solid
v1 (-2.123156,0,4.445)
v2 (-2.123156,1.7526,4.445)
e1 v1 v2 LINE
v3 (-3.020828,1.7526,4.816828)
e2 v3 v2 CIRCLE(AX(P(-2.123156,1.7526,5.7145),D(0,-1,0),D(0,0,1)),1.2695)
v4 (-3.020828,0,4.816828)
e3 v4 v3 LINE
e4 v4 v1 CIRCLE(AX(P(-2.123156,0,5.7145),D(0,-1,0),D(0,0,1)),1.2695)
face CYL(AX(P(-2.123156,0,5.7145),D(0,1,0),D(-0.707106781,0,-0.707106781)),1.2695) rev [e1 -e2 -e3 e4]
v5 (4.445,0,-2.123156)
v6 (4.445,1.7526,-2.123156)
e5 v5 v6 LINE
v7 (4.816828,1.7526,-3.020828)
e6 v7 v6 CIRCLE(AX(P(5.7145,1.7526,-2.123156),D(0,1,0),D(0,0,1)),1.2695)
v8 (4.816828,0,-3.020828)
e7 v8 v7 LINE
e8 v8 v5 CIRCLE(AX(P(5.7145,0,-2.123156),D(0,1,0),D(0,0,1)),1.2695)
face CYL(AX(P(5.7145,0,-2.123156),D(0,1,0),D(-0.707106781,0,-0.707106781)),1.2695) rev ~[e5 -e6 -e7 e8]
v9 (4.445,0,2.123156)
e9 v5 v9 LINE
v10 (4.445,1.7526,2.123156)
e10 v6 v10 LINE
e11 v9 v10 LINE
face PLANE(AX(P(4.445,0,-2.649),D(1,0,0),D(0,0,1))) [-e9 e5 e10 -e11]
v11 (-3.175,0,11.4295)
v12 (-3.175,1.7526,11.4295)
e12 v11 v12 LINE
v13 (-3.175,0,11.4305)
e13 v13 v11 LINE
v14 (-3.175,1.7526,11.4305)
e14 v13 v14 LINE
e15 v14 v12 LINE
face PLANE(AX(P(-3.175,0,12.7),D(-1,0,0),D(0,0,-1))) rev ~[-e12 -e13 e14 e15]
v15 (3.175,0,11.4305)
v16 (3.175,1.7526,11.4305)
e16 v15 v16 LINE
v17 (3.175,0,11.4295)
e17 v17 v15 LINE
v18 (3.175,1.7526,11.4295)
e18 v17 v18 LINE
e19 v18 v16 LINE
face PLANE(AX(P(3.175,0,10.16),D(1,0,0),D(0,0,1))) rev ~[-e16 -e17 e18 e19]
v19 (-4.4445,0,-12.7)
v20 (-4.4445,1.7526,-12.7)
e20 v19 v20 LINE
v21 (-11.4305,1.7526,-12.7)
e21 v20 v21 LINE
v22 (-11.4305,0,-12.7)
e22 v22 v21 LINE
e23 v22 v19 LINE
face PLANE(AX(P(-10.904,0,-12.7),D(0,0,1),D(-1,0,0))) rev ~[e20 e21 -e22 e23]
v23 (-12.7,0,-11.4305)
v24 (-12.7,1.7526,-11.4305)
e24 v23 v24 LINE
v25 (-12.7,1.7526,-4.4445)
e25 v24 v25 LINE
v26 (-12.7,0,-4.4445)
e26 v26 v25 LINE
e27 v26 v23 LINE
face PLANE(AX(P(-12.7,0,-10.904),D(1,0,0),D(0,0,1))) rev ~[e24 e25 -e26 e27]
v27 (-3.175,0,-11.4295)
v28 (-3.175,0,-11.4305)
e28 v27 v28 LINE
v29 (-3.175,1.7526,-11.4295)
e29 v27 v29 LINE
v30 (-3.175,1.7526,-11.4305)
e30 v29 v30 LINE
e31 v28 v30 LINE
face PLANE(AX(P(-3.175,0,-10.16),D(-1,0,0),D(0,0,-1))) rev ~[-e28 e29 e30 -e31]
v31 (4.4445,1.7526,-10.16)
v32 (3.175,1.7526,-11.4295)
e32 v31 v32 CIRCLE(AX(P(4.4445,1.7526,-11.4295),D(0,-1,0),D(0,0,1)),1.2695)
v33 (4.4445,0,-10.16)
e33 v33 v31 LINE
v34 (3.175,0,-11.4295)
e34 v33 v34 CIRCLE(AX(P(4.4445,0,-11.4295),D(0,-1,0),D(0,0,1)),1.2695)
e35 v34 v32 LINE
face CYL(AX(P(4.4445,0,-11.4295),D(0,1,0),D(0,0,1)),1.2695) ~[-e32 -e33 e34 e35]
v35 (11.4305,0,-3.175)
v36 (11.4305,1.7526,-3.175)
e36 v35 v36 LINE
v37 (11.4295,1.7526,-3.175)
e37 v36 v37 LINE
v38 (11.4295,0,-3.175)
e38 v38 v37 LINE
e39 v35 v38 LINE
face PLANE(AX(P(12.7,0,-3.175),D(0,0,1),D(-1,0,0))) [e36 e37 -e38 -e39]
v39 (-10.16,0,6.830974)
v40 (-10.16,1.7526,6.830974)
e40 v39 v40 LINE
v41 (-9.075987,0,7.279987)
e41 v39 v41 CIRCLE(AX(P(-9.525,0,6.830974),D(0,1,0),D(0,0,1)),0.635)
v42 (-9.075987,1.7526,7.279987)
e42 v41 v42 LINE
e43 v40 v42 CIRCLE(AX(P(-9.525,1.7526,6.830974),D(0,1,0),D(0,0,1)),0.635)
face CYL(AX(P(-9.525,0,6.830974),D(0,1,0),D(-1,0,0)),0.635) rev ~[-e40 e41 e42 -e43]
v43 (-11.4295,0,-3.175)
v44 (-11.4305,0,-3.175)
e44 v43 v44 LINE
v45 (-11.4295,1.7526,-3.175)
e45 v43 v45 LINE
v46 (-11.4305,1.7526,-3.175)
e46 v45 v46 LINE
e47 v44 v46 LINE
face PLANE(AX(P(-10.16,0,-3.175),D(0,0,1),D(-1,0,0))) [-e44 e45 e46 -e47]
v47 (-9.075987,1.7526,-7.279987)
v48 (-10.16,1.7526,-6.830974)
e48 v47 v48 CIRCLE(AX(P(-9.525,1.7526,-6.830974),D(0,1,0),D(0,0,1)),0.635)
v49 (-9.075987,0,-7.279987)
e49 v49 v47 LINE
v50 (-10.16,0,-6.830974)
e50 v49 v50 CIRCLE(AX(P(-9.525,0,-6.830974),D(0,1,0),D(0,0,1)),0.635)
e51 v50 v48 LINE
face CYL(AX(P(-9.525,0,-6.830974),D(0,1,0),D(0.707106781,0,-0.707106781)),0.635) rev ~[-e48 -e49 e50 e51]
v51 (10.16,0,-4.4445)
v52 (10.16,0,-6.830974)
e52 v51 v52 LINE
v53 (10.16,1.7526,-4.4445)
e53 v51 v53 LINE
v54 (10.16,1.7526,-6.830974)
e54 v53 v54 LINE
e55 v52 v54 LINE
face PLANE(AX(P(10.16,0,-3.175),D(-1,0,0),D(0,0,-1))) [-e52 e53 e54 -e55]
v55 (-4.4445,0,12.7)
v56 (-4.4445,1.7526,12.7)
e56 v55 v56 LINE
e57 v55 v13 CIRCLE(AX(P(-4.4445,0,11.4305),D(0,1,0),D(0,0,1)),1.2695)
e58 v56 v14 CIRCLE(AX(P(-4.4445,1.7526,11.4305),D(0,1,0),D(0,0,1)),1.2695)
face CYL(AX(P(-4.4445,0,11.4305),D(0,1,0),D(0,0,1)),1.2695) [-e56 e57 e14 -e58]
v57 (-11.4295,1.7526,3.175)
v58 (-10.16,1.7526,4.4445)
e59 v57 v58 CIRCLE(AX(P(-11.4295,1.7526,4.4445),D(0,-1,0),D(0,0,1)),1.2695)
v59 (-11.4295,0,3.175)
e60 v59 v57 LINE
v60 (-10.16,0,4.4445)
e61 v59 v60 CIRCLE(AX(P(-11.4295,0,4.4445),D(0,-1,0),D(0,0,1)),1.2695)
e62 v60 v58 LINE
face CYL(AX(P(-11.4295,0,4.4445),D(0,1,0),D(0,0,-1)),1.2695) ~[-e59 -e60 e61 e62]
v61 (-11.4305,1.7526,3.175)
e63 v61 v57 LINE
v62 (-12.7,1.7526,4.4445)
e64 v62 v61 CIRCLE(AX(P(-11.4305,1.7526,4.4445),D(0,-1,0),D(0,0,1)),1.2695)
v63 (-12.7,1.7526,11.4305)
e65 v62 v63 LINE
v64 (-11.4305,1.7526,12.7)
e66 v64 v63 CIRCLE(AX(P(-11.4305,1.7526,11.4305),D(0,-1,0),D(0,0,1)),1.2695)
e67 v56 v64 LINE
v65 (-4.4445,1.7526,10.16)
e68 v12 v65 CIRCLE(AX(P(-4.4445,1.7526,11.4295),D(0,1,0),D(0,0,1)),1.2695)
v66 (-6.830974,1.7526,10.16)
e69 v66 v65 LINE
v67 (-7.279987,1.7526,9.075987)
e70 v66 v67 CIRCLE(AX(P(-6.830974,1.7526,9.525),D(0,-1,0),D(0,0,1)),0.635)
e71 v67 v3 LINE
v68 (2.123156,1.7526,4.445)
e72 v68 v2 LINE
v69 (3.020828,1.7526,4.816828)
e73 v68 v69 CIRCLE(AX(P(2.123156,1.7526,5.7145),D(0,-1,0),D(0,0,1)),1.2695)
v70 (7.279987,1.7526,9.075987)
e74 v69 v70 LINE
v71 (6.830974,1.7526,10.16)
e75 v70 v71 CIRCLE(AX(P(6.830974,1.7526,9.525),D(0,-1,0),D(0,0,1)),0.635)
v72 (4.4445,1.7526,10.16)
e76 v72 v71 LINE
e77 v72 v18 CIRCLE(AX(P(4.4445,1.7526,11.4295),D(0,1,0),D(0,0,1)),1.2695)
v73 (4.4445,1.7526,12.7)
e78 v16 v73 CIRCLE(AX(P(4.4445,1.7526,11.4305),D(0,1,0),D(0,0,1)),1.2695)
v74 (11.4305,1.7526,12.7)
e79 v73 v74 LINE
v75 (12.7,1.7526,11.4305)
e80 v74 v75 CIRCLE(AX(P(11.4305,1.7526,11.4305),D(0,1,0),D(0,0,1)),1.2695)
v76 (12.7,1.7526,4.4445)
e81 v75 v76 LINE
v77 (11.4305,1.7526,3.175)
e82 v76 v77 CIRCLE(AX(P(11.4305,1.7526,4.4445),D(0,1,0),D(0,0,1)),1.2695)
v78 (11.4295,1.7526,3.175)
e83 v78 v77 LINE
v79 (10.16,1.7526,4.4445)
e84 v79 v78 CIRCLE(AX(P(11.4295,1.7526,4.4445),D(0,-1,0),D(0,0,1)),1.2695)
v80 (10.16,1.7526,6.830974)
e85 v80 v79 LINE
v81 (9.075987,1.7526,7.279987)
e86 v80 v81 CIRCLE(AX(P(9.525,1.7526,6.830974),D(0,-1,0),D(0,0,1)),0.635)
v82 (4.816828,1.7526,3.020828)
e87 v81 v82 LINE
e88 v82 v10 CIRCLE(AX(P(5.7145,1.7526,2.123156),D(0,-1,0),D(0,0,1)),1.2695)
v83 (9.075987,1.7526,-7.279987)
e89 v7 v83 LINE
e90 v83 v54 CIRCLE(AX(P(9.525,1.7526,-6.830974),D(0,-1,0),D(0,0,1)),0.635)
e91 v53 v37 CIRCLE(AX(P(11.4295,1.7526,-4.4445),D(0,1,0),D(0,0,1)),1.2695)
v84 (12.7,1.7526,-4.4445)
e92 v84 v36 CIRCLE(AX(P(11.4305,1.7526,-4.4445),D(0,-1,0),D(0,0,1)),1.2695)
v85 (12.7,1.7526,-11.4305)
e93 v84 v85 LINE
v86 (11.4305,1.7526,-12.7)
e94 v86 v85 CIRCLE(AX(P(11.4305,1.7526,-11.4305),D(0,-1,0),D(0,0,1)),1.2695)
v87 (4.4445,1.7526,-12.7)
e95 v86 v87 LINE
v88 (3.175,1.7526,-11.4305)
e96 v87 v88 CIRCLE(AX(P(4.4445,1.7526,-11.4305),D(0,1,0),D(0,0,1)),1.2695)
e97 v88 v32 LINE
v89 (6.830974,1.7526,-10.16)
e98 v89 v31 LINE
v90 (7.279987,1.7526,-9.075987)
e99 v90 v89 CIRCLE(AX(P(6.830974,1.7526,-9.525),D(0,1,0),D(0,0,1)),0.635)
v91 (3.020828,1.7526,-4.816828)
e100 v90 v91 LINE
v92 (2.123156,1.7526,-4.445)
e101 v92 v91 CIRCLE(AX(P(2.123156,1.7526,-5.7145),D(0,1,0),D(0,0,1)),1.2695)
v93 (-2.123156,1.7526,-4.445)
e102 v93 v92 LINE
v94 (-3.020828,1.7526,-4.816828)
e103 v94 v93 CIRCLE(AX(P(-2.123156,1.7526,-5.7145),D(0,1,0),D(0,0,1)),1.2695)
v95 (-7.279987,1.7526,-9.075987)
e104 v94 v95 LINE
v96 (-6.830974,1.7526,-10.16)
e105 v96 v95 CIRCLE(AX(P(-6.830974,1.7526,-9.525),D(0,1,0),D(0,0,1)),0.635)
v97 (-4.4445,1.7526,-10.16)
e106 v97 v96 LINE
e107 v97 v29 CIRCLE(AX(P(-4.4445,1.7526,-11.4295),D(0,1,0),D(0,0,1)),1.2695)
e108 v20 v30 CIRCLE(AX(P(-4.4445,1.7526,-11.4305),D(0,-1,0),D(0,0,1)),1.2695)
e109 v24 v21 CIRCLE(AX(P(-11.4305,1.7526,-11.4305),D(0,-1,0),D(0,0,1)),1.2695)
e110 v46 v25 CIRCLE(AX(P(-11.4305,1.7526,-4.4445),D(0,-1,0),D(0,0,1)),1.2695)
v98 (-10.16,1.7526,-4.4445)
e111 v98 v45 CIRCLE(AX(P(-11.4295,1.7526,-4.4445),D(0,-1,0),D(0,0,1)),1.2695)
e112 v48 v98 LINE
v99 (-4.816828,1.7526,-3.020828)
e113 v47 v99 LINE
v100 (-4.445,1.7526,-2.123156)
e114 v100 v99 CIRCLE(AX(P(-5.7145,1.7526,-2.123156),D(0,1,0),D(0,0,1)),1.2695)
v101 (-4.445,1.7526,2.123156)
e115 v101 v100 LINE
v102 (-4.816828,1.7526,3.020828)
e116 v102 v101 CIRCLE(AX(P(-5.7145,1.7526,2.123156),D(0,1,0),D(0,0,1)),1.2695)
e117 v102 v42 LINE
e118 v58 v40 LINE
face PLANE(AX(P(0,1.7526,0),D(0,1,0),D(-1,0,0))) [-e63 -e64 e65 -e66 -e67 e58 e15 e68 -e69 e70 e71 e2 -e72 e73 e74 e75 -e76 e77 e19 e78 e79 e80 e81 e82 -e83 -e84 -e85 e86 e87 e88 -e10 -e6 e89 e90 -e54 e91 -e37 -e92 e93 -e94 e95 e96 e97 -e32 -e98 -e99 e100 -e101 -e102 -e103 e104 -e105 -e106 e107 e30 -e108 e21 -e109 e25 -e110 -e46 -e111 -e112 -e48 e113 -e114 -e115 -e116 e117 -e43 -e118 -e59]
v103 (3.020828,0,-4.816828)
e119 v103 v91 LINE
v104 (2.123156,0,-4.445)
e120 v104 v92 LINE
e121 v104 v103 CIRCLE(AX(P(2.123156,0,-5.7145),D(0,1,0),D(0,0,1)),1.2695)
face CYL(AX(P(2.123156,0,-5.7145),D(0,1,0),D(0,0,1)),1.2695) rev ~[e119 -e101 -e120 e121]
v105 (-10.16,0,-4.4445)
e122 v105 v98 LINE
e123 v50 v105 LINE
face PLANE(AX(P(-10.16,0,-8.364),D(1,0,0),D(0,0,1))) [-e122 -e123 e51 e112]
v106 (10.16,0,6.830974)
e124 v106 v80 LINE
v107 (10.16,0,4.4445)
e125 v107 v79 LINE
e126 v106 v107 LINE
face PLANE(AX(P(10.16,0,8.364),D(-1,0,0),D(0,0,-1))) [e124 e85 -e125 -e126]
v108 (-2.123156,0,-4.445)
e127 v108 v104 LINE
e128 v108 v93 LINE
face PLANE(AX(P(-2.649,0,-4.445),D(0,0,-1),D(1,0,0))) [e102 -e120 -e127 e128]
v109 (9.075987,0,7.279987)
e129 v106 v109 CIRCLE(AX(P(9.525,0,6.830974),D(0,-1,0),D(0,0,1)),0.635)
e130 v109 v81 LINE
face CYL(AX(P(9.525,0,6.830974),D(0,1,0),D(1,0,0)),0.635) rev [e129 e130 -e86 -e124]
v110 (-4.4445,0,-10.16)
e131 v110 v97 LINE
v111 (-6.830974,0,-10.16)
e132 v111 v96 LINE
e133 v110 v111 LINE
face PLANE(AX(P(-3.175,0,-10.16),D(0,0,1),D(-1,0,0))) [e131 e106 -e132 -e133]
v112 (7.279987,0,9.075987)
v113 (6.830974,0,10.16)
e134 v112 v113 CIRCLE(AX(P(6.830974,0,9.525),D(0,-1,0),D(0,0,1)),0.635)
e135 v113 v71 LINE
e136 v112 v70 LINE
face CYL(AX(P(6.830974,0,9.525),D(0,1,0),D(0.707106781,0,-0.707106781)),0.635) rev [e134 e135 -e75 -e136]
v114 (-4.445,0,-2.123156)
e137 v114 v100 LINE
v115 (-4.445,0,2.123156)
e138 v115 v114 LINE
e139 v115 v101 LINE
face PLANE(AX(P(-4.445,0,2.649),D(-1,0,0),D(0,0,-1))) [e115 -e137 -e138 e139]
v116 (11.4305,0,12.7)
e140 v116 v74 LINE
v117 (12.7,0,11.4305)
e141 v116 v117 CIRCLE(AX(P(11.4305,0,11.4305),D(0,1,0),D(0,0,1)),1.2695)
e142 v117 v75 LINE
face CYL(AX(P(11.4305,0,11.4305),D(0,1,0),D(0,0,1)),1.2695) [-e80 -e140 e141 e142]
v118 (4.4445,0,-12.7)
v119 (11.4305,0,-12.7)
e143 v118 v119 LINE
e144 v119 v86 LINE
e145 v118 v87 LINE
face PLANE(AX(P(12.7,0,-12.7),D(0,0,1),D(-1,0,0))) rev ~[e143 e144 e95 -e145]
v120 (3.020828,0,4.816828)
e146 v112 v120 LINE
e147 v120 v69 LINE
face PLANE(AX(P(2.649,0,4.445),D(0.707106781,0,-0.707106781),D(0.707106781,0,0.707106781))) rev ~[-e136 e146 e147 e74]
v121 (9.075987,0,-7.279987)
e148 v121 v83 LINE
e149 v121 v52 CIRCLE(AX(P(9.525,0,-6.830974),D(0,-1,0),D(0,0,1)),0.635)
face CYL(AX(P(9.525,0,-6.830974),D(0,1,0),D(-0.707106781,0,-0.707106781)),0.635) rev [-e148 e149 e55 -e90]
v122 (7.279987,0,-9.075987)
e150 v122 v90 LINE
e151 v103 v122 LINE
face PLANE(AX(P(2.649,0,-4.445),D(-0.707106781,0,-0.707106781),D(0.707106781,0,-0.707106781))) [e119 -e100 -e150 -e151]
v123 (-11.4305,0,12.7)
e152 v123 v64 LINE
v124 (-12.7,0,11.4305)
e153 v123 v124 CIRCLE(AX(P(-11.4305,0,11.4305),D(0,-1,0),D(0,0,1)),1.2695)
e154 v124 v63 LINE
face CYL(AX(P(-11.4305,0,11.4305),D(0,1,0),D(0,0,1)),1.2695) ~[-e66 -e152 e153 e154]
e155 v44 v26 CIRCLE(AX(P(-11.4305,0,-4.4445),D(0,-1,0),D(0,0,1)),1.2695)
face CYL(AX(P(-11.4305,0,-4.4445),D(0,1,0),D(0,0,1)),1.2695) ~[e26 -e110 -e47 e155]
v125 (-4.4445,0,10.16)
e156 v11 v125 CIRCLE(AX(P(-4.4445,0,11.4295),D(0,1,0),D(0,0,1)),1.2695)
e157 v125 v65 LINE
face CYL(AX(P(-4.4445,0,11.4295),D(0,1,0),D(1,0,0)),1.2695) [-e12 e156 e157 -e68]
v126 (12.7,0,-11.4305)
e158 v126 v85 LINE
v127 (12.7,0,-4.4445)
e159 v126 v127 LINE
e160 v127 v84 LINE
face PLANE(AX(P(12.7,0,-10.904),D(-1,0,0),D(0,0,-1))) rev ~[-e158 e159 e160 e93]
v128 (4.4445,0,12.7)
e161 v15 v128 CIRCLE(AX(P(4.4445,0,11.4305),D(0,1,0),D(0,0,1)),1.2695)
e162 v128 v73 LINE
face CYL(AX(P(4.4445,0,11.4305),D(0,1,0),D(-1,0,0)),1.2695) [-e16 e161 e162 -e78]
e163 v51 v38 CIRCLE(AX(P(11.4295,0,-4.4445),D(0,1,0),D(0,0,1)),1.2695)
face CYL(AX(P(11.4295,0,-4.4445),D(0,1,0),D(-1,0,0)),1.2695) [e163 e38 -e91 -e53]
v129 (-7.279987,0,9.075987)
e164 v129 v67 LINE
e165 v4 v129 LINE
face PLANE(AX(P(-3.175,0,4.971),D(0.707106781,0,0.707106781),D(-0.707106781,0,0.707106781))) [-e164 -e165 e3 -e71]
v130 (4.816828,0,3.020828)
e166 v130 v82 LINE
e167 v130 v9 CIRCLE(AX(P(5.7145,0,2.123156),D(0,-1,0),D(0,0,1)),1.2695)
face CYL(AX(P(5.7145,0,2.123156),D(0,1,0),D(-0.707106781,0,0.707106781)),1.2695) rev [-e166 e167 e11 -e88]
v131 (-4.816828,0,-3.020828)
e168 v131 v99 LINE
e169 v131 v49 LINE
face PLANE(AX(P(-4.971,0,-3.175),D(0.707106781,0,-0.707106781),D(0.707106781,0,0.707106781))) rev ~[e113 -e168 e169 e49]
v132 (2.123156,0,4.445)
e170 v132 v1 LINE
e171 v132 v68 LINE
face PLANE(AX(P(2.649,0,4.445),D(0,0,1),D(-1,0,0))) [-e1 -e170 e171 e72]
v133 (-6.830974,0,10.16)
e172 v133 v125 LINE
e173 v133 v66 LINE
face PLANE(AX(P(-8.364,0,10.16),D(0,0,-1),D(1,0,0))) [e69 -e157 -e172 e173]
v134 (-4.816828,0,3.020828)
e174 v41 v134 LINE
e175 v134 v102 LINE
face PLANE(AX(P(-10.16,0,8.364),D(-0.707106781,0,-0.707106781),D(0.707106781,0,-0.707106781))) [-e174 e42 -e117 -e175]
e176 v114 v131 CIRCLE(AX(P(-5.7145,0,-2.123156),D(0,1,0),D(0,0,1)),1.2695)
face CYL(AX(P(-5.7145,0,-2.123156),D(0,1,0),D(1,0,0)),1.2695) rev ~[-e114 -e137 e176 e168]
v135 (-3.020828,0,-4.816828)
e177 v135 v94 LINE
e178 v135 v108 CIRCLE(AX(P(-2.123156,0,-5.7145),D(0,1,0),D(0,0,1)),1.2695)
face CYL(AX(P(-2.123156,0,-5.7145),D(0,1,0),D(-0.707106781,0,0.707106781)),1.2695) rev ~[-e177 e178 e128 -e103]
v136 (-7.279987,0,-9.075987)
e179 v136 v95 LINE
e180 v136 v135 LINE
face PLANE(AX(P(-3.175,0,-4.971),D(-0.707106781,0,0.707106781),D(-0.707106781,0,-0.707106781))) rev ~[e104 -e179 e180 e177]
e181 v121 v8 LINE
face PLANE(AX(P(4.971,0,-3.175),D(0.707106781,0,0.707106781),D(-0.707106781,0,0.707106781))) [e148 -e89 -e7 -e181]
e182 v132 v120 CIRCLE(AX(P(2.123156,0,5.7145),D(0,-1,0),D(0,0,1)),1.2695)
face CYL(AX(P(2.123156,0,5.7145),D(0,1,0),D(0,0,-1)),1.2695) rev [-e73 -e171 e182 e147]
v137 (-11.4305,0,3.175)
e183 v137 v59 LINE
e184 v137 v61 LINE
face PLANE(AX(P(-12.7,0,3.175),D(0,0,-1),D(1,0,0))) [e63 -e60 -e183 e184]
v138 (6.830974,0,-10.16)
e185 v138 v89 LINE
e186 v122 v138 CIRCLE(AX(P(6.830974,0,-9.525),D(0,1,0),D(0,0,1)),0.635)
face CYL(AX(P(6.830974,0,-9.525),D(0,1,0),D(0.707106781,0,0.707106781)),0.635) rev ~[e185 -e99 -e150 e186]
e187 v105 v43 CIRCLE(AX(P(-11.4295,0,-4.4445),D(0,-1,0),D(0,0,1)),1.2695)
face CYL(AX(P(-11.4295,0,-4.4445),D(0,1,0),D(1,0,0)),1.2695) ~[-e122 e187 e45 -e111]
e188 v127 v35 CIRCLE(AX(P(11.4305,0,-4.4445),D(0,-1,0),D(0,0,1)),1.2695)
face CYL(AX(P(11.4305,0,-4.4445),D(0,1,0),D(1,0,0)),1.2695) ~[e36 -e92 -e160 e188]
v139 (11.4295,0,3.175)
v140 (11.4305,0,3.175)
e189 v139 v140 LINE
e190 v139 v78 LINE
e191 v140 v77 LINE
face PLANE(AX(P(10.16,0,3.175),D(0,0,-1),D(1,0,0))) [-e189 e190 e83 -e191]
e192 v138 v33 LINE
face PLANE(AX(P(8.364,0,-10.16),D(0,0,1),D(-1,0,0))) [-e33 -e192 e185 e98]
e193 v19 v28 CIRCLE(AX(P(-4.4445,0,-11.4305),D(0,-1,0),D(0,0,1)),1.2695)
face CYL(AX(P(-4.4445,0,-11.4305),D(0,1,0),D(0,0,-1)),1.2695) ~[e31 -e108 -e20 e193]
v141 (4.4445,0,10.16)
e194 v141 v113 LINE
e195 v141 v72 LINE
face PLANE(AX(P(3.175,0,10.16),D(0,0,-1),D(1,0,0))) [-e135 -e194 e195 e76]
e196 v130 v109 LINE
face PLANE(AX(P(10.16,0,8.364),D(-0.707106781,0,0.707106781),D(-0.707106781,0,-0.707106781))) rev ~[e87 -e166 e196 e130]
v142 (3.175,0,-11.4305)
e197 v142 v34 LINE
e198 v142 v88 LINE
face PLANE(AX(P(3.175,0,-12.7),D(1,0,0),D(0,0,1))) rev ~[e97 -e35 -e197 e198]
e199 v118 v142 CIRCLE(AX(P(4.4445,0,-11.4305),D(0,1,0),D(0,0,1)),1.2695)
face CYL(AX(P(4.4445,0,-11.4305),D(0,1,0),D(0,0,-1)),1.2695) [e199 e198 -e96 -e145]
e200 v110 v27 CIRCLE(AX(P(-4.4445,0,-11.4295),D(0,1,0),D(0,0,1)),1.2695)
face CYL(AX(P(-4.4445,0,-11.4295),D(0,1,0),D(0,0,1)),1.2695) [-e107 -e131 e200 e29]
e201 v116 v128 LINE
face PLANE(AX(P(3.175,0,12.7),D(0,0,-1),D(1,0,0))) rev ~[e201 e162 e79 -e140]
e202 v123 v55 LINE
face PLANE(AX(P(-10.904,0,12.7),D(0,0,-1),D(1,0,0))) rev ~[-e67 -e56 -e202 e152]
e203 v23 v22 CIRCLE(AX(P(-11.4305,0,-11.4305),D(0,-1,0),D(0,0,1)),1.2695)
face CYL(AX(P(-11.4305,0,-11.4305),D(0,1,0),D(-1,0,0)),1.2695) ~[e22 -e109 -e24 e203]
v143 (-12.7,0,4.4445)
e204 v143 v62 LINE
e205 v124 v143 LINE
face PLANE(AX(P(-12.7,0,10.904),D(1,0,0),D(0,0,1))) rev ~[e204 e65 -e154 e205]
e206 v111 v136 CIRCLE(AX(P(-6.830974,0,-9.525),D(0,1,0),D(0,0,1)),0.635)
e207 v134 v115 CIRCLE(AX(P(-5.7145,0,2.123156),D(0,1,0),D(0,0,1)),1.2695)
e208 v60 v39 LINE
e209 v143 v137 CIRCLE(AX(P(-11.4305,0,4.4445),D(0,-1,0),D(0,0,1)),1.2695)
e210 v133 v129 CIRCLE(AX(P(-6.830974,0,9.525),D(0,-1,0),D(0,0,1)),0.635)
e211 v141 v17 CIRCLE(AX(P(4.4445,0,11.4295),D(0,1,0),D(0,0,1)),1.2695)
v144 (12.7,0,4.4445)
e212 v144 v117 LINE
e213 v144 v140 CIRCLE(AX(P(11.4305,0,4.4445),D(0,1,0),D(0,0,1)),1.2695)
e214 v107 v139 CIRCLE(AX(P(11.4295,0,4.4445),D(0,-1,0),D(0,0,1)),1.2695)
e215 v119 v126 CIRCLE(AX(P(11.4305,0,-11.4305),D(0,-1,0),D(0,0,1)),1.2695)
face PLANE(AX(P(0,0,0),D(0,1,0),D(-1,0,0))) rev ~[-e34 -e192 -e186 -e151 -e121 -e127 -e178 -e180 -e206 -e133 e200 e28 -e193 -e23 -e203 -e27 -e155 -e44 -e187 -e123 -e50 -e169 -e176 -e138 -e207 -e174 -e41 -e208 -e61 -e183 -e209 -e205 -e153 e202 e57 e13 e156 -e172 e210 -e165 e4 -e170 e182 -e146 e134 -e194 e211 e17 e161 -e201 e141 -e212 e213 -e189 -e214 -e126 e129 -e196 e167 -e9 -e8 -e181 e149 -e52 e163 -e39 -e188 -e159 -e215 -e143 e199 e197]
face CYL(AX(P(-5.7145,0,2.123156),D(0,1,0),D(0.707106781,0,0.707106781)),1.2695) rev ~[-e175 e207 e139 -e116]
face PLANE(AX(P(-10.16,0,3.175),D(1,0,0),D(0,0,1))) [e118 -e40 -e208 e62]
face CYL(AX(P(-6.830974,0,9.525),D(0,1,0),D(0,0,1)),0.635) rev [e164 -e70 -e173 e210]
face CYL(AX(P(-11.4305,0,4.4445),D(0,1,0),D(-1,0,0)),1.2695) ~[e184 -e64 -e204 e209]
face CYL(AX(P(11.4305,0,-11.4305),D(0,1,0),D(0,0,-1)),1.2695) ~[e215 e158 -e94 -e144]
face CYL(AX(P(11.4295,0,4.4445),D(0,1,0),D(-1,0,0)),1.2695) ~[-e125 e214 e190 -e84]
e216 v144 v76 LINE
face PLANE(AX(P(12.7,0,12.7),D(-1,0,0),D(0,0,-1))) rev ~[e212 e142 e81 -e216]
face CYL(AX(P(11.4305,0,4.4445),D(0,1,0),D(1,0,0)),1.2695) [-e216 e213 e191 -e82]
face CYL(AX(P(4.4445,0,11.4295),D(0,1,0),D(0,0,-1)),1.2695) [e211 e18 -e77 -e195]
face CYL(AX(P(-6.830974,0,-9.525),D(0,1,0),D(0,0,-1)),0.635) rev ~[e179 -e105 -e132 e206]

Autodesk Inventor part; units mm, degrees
ref_plane "YZ Plane" through (0, 0, 0) normal (1, 0, 0) x (0, 1, 0)
ref_plane "XZ Plane" through (0, 0, 0) normal (0, 1, 0) x (-1, 0, 0)
ref_plane "XY Plane" through (0, 0, 0) normal (0, 0, 1) x (1, 0, 0)
sketch "Sketch1" plane through (0, 0, 0) normal (0, 1, 0) x (-1, 0, 0)
  line L0 (12.7, 12.7) -> (-12.7, 12.7)
  line L1 (-12.7, 12.7) -> (-12.7, -12.7)
  line L2 (-12.7, -12.7) -> (12.7, -12.7)
  line L3 (12.7, -12.7) -> (12.7, 12.7)
  line L4 (12.7, 12.7) -> (-12.7, -12.7) construction
  line L5 (-12.7, 12.7) -> (12.7, -12.7) construction
  line L6 (10.16, 10.16) -> (-10.16, 10.16)
  line L7 (-10.16, 10.16) -> (-10.16, -10.16)
  line L8 (-10.16, -10.16) -> (10.16, -10.16)
  line L9 (10.16, -10.16) -> (10.16, 10.16)
  line L10 (10.16, 10.16) -> (-10.16, -10.16) construction
  line L11 (-10.16, 10.16) -> (10.16, -10.16) construction
  line L12 (-4.445, 4.445) -> (4.445, 4.445)
  line L13 (4.445, 4.445) -> (4.445, -4.445)
  line L14 (4.445, -4.445) -> (-4.445, -4.445)
  line L15 (-4.445, -4.445) -> (-4.445, 4.445)
  line L16 (-4.445, 4.445) -> (4.445, -4.445) construction
  line L17 (4.445, 4.445) -> (-4.445, -4.445) construction
  line L18 (0, 12.7) -> (-3.175, 12.7)
  line L19 (-3.175, 12.7) -> (3.175, 12.7)
  line L20 (3.175, 12.7) -> (3.175, -12.7)
  line L21 (3.175, -12.7) -> (-3.175, -12.7)
  line L22 (-3.175, -12.7) -> (-3.175, 12.7)
  line L23 (12.7, 0) -> (12.7, 3.175)
  line L24 (12.7, 3.175) -> (-12.7, 3.175)
  line L25 (-12.7, 3.175) -> (-12.7, -3.175)
  line L26 (-12.7, -3.175) -> (12.7, -3.175)
  line L27 (12.7, -3.175) -> (12.7, 3.175)
  line L28 (-13.598, -11.802) -> (11.802, 13.598)
  line L29 (11.802, 13.598) -> (13.598, 11.802)
  line L30 (13.598, 11.802) -> (-11.802, -13.598)
  line L31 (-11.802, -13.598) -> (-13.598, -11.802)
  line L32 (-13.598, -11.802) -> (13.598, 11.802) construction
  line L33 (11.802, 13.598) -> (-11.802, -13.598) construction
  line L34 (-13.598, 11.802) -> (11.802, -13.598)
  line L35 (11.802, -13.598) -> (13.598, -11.802)
  line L36 (13.598, -11.802) -> (-11.802, 13.598)
  line L37 (-11.802, 13.598) -> (-13.598, 11.802)
  line L38 (-13.598, 11.802) -> (13.598, -11.802) construction
  line L39 (11.802, -13.598) -> (-11.802, 13.598) construction
  point P0 (0, 0)
  point P1 (8.3639, 10.16)
  point P2 (2.6489, 4.445)
  point P3 (-2.6489, 4.445)
  point P4 (-8.3639, 10.16)
  point P5 (-10.16, 3.175)
  point P6 (-10.16, 8.3639)
  point P7 (-4.445, 2.6489)
  point P8 (-4.445, -2.6489)
  point P9 (-10.16, -8.3639)
  point P10 (-10.16, -3.175)
  point P11 (-3.175, -10.16)
  point P12 (-8.3639, -10.16)
  point P13 (-2.6489, -4.445)
  point P14 (2.6489, -4.445)
  point P15 (8.3639, -10.16)
  point P16 (3.175, -10.16)
  point P17 (10.16, -3.175)
  point P18 (10.16, -8.3639)
  point P19 (4.445, -2.6489)
  point P20 (4.445, 2.6489)
  point P21 (10.16, 8.3639)
  point P22 (10.16, 3.175)
  point P23 (-3.175, 10.16)
  point P24 (3.175, 10.16)
  dimension "d0" = 25.4
  dimension "d1" = 25.4
  dimension "d2" = 20.32
  dimension "d3" = 20.32
  dimension "d4" = 8.89
  dimension "d5" = 8.89
  dimension "d6" = 3.175
  dimension "d7" = 6.35
  dimension "d8" = 3.175
  dimension "d9" = 6.35
  dimension "d10" = 2.54
  dimension "d11" = 2.54
extrude "Extrusion1" add sketch "Sketch1" along normal blind 1.7526 contours L0 L28 L6 L20 | L0 L3 L30 L9 L6 L28 | L22 L6 L36 L0 | L6 L9 L30 L24 L13 L12 L20 L28 | L20 L12 L28 | L36 L6 L7 L34 L1 L0 | L3 L24 L9 L30 | L36 L22 L12 L15 L24 L34 L7 L6 | L36 L12 L22 | L20 L24 L28 L12 | L12 L13 L24 L20 | L28 L24 L36 L12 | L22 L24 L15 L12 | L12 L36 L24 L22 | L24 L13 L30 L20 | L20 L30 L36 L28 L24 | L28 L36 L24 | L34 L7 L24 L1 | L30 L13 L24 | L24 L36 L28 L34 L22 | L22 L34 L15 L24 | L30 L13 L36 L20 | L20 L36 L30 | L36 L30 L34 L28 | L3 L36 L9 L26 | L24 L15 L34 | L34 L28 L22 | L22 L28 L15 L34 | L36 L13 L26 L20 | L20 L26 L34 L30 L36 | L34 L30 L26 L22 L28 | L26 L7 L28 L1 | L3 L2 L34 L8 L9 L36 | L9 L8 L34 L20 L14 L13 L26 L36 | L26 L13 L36 | L22 L26 L15 L28 | L26 L13 L14 L20 | L20 L14 L34 L26 | L34 L26 L30 | L28 L7 L8 L30 L2 L1 | L28 L26 L15 L14 L22 L30 L8 L7 | L28 L15 L26 | L26 L30 L14 L22 | L22 L14 L15 L26 | L20 L34 L14 | L34 L14 L30 L26 | L2 L20 L8 L34 | L14 L30 L22 | L30 L8 L22 L2
fillet "Fillet1" radius 1.27 28 edges at (-12.7, 0.8763, -12.7) (12.7, 0.8763, -12.7) (3.175, 0.8763, -12.7) (3.175, 0.8763, -10.16) (-3.175, 0.8763, -12.7) (-12.7, 0.8763, -3.175) (-12.7, 0.8763, 3.175) (-10.16, 0.8763, 3.175) (-12.7, 0.8763, 12.7) (-3.175, 0.8763, 10.16) (3.175, 0.8763, 12.7) (3.175, 0.8763, 10.16) (10.16, 0.8763, 3.175) (12.7, 0.8763, 3.175) (10.16, 0.8763, -3.175) (12.7, 0.8763, -3.175) (12.7, 0.8763, 12.7) (-3.175, 0.8763, -10.16) (-10.16, 0.8763, -3.175) (-4.445, 0.8763, 2.6489) (-4.445, 0.8763, -2.6489) (2.6489, 0.8763, -4.445) (-2.6489, 0.8763, -4.445) (4.445, 0.8763, 2.6489) (4.445, 0.8763, -2.6489) (-2.6489, 0.8763, 4.445) (2.6489, 0.8763, 4.445) (-3.175, 0.8763, 12.7)
fillet "Fillet2" radius 0.635 8 edges at (8.3639, 0.8763, 10.16) (10.16, 0.8763, 8.3639) (-8.3639, 0.8763, 10.16) (-10.16, 0.8763, 8.3639) (-10.16, 0.8763, -8.3639) (-8.3639, 0.8763, -10.16) (8.3639, 0.8763, -10.16) (10.16, 0.8763, -8.3639)
properties part number "T_slot_1in_base" material "Aluminum 6061"
